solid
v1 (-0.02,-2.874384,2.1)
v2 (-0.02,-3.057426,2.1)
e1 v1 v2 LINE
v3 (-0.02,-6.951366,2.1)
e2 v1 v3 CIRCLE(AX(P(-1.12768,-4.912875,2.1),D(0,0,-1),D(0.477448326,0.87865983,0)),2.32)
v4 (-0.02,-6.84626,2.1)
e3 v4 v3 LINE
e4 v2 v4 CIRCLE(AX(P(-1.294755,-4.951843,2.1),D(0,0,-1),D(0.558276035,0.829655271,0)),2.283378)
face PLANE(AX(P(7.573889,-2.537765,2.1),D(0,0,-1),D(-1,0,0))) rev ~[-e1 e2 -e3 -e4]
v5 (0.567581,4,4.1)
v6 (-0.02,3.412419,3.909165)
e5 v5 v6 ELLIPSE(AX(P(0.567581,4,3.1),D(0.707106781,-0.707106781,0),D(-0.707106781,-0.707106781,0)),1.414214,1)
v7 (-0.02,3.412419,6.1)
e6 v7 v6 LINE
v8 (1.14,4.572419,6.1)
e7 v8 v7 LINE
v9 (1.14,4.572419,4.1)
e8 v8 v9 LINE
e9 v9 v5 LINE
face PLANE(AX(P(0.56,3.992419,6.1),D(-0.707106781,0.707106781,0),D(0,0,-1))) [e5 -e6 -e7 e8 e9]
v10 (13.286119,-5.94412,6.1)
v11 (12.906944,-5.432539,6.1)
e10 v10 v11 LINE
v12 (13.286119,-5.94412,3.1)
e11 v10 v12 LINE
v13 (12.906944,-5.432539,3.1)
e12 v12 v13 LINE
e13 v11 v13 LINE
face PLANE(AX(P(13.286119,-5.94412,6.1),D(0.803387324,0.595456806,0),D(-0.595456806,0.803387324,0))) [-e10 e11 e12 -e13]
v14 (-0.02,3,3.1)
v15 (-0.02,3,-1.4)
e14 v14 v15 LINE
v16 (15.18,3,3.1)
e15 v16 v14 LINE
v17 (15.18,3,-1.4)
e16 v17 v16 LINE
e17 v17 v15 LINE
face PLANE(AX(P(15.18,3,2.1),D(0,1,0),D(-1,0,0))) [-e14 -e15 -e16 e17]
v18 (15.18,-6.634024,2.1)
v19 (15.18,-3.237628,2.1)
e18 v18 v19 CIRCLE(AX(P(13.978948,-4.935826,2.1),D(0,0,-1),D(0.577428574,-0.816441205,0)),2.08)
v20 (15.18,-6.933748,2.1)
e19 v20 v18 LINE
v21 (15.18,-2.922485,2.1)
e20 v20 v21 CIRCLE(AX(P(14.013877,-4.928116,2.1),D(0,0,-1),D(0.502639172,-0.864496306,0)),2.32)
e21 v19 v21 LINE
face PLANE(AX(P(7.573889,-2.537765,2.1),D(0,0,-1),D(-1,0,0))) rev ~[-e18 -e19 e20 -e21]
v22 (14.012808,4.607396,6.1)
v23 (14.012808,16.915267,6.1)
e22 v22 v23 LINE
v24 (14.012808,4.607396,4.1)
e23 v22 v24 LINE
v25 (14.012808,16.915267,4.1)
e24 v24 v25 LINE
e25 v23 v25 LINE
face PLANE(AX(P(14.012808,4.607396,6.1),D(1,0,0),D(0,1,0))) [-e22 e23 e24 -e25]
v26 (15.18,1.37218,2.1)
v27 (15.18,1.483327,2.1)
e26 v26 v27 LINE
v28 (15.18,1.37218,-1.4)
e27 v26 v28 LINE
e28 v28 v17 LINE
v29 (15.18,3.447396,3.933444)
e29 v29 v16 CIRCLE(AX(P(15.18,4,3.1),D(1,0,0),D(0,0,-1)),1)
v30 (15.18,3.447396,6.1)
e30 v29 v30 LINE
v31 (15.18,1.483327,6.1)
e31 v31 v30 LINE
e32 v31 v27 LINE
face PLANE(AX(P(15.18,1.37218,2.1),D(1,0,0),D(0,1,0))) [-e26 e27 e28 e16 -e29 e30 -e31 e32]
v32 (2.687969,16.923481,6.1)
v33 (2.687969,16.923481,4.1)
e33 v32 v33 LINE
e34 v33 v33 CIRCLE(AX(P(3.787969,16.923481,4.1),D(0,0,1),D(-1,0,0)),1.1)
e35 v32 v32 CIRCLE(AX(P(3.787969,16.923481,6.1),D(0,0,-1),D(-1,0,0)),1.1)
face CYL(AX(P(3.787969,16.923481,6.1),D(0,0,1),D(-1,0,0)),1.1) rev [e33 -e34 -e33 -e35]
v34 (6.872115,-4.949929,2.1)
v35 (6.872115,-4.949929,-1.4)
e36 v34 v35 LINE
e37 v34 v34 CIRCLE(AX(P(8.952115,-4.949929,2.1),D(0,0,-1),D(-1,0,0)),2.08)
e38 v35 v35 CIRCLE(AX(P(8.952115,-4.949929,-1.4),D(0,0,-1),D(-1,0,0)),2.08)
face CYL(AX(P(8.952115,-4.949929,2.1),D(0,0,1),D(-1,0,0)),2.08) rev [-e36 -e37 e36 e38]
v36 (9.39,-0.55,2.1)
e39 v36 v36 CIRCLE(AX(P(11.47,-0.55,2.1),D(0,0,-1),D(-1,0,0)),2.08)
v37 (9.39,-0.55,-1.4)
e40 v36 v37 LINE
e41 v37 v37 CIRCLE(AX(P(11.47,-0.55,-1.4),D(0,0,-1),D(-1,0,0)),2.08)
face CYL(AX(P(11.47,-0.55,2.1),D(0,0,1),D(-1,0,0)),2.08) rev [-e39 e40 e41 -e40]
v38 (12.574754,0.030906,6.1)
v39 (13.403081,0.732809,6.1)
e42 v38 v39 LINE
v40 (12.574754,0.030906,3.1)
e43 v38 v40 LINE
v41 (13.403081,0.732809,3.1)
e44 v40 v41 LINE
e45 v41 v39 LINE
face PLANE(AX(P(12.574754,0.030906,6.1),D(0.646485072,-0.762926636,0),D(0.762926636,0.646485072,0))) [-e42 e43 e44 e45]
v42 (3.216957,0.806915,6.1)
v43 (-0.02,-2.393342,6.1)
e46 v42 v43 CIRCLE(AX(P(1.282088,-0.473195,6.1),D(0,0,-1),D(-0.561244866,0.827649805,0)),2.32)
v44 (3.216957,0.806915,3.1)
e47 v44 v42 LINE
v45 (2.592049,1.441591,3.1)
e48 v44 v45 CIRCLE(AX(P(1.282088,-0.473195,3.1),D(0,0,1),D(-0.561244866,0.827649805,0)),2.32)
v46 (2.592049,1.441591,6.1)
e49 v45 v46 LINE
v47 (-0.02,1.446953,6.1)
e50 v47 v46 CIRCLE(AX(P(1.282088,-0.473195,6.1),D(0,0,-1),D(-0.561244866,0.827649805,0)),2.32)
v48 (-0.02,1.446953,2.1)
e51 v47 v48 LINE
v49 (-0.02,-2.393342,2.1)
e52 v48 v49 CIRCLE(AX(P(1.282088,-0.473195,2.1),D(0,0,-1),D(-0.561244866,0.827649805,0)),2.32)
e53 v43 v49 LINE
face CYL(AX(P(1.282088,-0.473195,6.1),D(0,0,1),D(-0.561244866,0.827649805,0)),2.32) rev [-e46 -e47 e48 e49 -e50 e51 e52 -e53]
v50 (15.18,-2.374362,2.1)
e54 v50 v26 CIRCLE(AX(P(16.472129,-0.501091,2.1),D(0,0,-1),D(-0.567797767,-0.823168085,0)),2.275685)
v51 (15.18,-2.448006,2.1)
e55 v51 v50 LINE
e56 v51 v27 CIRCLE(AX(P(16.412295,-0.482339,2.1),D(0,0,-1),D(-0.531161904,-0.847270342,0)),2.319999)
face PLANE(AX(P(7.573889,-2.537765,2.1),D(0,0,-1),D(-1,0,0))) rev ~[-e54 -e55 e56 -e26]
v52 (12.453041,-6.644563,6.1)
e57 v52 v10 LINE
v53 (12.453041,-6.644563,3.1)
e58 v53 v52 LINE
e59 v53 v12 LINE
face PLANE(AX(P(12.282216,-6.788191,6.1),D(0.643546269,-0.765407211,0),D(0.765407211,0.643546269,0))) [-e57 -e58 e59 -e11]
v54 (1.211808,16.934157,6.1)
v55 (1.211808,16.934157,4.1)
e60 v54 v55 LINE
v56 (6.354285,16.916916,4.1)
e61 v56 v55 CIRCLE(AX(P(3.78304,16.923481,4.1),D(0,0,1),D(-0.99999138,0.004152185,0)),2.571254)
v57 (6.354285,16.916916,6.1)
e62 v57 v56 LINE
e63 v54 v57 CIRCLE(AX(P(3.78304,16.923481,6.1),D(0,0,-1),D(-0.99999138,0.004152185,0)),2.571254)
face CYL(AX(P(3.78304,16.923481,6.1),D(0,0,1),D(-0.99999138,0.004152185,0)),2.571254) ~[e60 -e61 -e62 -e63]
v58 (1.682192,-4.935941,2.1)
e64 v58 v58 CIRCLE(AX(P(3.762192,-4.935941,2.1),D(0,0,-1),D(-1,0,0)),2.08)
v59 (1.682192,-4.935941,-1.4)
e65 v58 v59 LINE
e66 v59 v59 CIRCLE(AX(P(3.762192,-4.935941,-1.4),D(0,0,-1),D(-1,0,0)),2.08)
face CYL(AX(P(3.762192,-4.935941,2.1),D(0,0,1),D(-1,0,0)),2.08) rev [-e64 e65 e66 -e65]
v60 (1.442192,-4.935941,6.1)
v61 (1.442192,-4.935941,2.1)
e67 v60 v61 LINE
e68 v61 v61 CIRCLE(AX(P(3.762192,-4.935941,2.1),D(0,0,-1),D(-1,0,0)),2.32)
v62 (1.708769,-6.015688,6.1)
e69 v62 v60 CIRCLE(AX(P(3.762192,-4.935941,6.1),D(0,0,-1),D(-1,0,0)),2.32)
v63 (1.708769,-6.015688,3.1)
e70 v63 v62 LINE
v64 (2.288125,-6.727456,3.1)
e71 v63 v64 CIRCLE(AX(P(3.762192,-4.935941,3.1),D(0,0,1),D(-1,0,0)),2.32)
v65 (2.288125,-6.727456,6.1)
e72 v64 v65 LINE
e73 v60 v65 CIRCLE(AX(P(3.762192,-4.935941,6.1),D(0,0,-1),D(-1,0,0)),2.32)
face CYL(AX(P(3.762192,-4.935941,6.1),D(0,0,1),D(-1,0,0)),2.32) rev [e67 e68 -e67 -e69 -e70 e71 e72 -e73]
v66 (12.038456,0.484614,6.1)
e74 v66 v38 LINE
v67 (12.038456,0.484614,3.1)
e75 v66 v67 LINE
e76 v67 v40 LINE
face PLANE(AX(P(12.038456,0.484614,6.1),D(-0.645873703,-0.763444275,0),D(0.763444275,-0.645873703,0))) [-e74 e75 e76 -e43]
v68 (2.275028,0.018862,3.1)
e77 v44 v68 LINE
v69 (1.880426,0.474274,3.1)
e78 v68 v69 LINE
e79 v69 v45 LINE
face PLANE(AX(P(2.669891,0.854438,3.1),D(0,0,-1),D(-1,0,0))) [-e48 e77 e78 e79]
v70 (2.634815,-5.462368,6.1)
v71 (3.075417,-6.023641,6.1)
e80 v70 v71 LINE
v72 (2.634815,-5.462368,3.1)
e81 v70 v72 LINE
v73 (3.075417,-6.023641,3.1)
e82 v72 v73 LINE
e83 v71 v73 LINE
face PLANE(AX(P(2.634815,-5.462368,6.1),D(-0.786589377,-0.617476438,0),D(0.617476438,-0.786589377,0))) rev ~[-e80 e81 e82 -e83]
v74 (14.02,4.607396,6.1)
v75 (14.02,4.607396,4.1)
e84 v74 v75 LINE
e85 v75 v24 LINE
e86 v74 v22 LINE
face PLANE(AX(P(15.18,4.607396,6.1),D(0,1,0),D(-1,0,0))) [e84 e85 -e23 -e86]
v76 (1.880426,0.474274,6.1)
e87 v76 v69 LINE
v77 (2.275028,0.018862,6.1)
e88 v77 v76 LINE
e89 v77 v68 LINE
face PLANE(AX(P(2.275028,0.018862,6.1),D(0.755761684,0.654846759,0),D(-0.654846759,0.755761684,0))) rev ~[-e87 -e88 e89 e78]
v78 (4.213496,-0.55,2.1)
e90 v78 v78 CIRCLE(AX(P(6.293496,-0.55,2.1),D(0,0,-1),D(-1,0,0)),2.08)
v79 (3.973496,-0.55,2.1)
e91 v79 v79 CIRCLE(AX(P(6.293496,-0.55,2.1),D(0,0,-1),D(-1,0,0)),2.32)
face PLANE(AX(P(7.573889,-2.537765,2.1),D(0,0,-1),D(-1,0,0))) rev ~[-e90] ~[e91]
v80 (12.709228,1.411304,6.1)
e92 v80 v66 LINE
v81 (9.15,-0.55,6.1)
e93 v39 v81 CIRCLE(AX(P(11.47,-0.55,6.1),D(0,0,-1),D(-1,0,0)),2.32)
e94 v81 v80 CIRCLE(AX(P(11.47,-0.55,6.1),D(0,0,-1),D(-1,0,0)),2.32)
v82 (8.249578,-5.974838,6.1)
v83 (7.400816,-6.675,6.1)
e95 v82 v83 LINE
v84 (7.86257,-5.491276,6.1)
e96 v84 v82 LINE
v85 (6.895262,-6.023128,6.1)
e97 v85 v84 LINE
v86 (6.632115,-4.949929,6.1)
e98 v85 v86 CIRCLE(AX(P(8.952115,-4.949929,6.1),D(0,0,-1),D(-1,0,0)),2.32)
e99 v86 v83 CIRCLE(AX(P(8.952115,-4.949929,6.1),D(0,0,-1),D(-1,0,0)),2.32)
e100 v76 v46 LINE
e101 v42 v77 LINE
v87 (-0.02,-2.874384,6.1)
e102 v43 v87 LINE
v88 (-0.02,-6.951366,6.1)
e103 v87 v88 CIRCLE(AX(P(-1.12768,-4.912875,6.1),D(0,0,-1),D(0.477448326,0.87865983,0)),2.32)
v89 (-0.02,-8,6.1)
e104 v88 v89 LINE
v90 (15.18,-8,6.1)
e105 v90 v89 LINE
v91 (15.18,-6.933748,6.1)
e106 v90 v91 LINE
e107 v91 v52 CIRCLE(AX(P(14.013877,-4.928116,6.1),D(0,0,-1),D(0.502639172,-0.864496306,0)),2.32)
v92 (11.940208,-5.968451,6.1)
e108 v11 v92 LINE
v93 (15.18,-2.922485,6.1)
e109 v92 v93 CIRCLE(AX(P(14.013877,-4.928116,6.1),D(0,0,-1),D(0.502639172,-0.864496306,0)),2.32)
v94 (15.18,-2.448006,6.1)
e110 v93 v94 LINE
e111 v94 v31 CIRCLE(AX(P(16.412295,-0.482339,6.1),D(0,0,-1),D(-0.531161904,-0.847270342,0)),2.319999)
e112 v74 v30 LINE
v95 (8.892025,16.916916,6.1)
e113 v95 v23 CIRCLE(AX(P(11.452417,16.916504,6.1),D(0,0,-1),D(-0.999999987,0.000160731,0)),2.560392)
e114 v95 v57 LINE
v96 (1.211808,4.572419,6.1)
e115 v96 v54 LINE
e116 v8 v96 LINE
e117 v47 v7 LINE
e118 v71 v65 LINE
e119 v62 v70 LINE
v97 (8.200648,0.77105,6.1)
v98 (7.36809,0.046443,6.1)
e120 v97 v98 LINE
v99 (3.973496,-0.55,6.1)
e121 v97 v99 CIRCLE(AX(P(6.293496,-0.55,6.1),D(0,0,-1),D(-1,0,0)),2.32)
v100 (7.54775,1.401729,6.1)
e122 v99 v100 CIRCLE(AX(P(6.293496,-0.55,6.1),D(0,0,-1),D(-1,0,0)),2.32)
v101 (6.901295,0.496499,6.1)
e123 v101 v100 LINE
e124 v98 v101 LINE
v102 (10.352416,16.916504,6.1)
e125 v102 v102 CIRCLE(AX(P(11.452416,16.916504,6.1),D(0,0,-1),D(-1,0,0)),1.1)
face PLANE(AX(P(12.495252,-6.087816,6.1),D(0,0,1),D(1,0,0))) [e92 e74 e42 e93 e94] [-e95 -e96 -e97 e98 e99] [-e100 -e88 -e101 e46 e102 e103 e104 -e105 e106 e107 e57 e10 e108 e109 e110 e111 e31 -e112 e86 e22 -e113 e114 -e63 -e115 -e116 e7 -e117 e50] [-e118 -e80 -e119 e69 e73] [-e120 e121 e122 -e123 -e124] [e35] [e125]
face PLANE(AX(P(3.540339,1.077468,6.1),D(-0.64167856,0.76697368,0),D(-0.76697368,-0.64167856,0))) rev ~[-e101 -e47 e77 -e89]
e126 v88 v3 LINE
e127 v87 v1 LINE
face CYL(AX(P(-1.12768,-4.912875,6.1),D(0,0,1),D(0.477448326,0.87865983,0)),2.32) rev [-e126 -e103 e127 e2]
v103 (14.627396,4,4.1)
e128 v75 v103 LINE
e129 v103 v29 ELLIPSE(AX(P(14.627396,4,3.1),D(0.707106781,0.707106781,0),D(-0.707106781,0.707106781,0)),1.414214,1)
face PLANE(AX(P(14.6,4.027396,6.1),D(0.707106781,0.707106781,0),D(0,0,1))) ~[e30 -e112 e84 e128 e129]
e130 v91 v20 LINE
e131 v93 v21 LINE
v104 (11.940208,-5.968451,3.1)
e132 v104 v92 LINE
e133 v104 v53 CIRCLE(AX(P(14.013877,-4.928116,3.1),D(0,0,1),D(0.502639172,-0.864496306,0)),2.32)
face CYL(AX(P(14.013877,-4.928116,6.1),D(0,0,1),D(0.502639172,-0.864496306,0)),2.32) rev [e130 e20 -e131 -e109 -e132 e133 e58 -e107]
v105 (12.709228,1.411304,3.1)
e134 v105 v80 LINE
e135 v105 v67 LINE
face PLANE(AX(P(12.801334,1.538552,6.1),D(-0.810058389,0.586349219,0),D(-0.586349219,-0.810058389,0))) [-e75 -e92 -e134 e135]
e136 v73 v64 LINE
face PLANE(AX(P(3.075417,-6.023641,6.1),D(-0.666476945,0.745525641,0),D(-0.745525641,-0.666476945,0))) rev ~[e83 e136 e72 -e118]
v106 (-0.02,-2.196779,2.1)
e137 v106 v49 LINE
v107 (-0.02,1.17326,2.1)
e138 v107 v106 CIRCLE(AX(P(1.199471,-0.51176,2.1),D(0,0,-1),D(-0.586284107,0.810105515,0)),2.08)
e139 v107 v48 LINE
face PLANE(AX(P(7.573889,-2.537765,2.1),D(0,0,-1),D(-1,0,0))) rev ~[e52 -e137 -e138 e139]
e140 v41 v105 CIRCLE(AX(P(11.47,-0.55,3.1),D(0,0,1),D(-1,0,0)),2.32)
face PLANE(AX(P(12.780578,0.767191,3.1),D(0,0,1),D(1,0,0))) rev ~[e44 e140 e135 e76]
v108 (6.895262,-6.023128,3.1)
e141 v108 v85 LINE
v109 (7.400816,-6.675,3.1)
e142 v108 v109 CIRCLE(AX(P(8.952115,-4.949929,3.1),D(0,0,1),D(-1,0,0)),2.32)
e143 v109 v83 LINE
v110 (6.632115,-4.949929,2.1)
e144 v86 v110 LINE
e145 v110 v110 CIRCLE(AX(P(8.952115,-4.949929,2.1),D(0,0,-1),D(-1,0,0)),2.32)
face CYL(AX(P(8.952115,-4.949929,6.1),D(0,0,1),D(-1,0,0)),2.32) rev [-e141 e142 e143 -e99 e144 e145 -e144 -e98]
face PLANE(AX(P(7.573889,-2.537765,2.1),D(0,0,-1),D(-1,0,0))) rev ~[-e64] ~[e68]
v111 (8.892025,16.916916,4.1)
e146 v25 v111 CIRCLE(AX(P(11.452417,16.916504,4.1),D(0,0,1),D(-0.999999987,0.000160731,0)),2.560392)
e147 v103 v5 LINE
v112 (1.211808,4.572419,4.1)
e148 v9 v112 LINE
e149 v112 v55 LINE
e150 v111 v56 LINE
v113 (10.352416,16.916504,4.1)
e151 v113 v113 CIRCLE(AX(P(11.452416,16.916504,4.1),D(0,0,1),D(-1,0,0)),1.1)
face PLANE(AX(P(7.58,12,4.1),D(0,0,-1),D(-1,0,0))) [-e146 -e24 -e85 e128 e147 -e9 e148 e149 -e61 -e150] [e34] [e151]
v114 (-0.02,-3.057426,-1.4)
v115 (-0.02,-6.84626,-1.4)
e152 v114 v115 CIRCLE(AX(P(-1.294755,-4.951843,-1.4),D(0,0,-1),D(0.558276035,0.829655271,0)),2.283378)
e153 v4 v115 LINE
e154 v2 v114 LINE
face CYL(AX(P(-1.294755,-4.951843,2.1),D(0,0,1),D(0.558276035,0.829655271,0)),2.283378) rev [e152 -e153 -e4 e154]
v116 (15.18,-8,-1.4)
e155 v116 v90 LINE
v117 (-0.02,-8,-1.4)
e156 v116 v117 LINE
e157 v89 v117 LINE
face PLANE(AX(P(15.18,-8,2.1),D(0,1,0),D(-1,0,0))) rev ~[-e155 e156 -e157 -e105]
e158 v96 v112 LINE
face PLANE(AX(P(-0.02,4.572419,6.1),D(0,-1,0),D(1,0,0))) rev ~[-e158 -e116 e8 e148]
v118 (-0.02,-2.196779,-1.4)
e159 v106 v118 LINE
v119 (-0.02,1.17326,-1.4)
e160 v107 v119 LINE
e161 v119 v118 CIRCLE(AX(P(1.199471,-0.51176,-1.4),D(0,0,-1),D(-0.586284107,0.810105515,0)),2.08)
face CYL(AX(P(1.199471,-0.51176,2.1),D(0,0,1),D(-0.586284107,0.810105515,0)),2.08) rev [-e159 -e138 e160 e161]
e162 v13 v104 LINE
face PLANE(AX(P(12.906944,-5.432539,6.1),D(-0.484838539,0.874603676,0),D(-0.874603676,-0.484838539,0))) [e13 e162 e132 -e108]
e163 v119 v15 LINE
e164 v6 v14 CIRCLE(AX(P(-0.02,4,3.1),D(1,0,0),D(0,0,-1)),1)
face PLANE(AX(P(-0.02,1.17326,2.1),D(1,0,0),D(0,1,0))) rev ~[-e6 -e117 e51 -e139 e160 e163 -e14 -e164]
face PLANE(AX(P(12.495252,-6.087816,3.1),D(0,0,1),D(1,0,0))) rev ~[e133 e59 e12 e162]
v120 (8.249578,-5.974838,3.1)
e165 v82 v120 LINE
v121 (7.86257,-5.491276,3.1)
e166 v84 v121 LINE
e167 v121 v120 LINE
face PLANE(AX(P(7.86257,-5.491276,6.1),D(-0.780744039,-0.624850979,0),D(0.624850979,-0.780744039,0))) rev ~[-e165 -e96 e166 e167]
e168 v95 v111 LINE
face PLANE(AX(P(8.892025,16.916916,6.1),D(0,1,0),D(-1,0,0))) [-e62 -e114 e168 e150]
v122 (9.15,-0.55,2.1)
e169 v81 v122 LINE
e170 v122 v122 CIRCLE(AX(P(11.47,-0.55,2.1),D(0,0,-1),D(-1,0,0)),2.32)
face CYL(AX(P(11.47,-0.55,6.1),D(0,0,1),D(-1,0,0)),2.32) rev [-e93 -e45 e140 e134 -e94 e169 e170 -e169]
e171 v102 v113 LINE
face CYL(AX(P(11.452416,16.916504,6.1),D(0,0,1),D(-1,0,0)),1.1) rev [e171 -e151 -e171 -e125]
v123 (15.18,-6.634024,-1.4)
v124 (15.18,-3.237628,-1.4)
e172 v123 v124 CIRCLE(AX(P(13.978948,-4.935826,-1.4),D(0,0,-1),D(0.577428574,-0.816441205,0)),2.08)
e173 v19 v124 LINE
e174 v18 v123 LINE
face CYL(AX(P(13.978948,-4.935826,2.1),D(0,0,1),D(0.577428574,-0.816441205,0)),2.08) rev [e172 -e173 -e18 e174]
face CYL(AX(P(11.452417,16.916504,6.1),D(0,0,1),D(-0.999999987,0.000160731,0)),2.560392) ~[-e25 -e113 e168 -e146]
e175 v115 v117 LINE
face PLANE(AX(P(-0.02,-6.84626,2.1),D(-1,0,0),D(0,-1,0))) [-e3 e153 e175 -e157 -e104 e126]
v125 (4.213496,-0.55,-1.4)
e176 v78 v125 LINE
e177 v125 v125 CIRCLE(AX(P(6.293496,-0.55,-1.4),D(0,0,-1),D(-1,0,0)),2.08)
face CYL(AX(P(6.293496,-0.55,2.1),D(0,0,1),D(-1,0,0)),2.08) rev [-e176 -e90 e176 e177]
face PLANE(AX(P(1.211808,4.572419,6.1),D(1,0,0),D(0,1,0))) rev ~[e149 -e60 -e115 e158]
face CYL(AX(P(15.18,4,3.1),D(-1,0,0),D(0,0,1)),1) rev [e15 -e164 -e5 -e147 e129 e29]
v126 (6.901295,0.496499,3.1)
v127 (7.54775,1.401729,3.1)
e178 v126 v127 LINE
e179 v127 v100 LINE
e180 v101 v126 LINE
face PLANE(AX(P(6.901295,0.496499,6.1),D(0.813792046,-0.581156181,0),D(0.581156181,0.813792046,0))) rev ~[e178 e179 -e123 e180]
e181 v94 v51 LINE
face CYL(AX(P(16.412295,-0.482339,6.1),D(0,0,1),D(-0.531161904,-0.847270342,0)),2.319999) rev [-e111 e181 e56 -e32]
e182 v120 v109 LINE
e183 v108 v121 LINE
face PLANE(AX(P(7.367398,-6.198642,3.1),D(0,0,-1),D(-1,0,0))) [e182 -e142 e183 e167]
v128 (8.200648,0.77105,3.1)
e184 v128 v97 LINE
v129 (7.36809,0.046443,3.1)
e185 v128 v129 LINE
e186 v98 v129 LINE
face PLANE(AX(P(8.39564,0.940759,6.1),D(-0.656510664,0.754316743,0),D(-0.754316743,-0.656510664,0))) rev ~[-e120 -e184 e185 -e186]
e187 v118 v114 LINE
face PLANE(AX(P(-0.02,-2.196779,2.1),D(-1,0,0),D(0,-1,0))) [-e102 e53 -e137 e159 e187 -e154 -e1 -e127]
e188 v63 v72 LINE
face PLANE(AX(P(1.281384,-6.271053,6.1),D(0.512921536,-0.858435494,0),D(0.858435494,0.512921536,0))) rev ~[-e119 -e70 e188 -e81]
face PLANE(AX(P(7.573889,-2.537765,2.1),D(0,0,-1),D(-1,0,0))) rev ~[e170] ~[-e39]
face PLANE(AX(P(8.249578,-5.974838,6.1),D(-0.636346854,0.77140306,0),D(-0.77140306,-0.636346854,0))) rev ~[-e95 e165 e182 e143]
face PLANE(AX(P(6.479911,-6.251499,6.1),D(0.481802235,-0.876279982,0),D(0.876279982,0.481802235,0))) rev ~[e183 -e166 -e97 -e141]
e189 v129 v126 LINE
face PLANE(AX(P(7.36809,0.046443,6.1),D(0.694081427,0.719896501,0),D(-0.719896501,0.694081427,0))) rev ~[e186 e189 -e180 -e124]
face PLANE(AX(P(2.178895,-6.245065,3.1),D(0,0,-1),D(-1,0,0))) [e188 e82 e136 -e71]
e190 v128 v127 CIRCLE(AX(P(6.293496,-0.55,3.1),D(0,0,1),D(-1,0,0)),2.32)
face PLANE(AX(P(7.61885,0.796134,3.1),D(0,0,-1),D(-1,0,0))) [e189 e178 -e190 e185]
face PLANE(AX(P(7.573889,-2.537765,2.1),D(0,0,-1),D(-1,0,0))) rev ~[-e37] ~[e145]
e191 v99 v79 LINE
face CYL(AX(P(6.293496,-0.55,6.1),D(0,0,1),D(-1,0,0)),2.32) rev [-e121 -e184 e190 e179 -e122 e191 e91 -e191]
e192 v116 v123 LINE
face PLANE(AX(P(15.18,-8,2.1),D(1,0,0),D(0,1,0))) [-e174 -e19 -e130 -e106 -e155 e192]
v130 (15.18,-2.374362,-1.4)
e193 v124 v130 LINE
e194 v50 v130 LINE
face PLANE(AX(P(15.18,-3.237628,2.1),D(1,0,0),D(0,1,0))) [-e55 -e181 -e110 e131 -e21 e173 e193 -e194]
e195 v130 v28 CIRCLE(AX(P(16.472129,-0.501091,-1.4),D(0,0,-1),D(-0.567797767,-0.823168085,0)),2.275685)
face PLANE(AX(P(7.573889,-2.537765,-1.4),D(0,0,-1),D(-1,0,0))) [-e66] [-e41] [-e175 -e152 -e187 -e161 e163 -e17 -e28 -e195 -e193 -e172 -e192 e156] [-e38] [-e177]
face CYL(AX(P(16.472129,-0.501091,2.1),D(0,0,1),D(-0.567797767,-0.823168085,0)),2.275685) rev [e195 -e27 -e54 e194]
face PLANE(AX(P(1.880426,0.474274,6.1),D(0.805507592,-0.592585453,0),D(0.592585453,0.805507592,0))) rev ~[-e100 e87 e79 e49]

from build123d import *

# Parameters (mm, degrees)
BOX001_W                  = 15.2
BOX001_H                  = 18
BOX001_DEPTH              = 10
PAD010_DEPTH              = 3
SKETCH009_R               = 2.08
PAD009_DEPTH              = 3.5
SKETCH008_R               = 1.1
SKETCH008_R_2             = 2.32
PAD008_DEPTH              = 4
CHAMFER005_SIZE           = 1.16
FILLET001_R               = 1
FUSION004_PLACEMENT_ANGLE = 180


with BuildPart() as w_rfel001:
    # Box001 → Box001 (new body)
    with BuildSketch(Plane(origin=(0, 11, 2), x_dir=(1, 0, 0), z_dir=(0, 0, 1))):
        with Locations((7.6, 9)):
            Rectangle(BOX001_W, BOX001_H)
    extrude(amount=BOX001_DEPTH)


with BuildPart() as pad010:
    # Sketch010 → Pad010 (new body)
    with BuildSketch(Plane.XY):
        Polygon((2.378666, 9.538552), (3.141544, 8.484614), (2.605246, 8.030906), (1.603856, 8.879459), align=None)
        Polygon((6.78436, 8.940759), (7.81191, 8.046443), (8.278705, 8.496499), (7.513181, 9.568461), align=None)
        Polygon((11.639661, 9.077468), (12.904972, 8.018862), (13.299574, 8.474274), (12.400975, 9.695749), align=None)
        Polygon((12.104583, 1.976359), (13.30563, 0.90266), (13.898616, 1.728947), (12.545185, 2.537632), align=None)
        Polygon((8.700089, 1.748501), (7.31743, 2.508724), (6.930422, 2.025162), (8.137034, 1.029802), align=None)
        Polygon((2.273056, 2.567461), (3.508846, 1.882398), (2.897784, 1.211809), (1.893881, 2.05588), align=None)
    extrude(amount=PAD010_DEPTH)


with BuildPart() as pad009:
    # Sketch009 → Pad009 (new body)
    with BuildSketch(Plane.XY.offset(4)):
        with BuildLine():
            Line((0, 0), (15.2, 0))
            Line((15.2, 1.15374), (15.2, 0))
            ThreePointArc((15.2, 4.942574), (14.191377, 3.048157), (15.2, 1.15374))
            Line((15.2, 5.803221), (15.2, 4.942574))
            ThreePointArc((15.2, 9.17326), (11.900529, 7.488241), (15.2, 5.803221))
            Line((15.2, 9.17326), (15.2, 11))
            Line((0, 11), (15.2, 11))
            Line((0, 9.37218), (0, 11))
            ThreePointArc((0, 5.625638), (0.983556, 7.498909), (0, 9.37218))
            Line((0, 4.762372), (0, 5.625638))
            ThreePointArc((0, 1.365976), (3.281052, 3.064174), (0, 4.762372))
            Line((0, 0), (0, 1.365976))
        make_face()
        with Locations((3.71, 7.45)):
            Circle(SKETCH009_R, mode=Mode.SUBTRACT)
        with Locations((8.886504, 7.45)):
            Circle(SKETCH009_R, mode=Mode.SUBTRACT)
        with Locations((11.417808, 3.064059)):
            Circle(SKETCH009_R, mode=Mode.SUBTRACT)
        with Locations((6.227885, 3.050071)):
            Circle(SKETCH009_R, mode=Mode.SUBTRACT)
    extrude(amount=PAD009_DEPTH)


with BuildPart() as cut001:
    # Sketch008 → Pad008 (new body)
    with BuildSketch(Plane.XY):
        with BuildLine():
            Line((1.167192, 12.607396), (1.167192, 24.915267))
            ThreePointArc((6.287975, 24.916916), (3.726759, 27.476896), (1.167192, 24.915267))
            Line((6.287975, 24.916916), (8.825715, 24.916916))
            ThreePointArc((13.968192, 24.934157), (11.38834, 27.49472), (8.825715, 24.916916))
            Line((13.968192, 12.572419), (13.968192, 24.934157))
            Line((15.2, 12.572419), (13.968192, 12.572419))
            Line((15.2, 9.446953), (15.2, 12.572419))
            ThreePointArc((15.2, 9.446953), (11.577912, 7.526805), (15.2, 5.606658))
            Line((15.2, 5.606658), (15.2, 5.125616))
            ThreePointArc((15.2, 5.125616), (13.98768, 3.087125), (15.2, 1.048634))
            Line((15.2, 1.048634), (15.2, 0))
            Line((0, 0), (15.2, 0))
            Line((0, 0), (0, 1.066252))
            ThreePointArc((0, 1.066252), (3.486123, 3.071883), (0, 5.077515))
            Line((0, 5.077515), (0, 5.551994))
            ThreePointArc((0, 5.551994), (1.087704, 7.51766), (0, 9.483327))
            Line((0, 9.483327), (0, 12.607396))
            Line((0, 12.607396), (1.167192, 12.607396))
        make_face()
        with Locations((3.727584, 24.916504)):
            Circle(SKETCH008_R, mode=Mode.SUBTRACT)
        with Locations((11.392031, 24.923481)):
            Circle(SKETCH008_R, mode=Mode.SUBTRACT)
        with Locations((3.71, 7.45)):
            Circle(SKETCH008_R_2, mode=Mode.SUBTRACT)
        with Locations((8.886504, 7.45)):
            Circle(SKETCH008_R_2, mode=Mode.SUBTRACT)
        with Locations((11.417808, 3.064059)):
            Circle(SKETCH008_R_2, mode=Mode.SUBTRACT)
        with Locations((6.227885, 3.050071)):
            Circle(SKETCH008_R_2, mode=Mode.SUBTRACT)
    extrude(amount=PAD008_DEPTH)

    # Chamfer005
    chamfer005_edges = [cut001.edges().sort_by_distance(p)[0] for p in [
        (0, 12.607396, 2),
        (15.2, 12.572419, 2),
    ]]
    chamfer(chamfer005_edges, length=CHAMFER005_SIZE)

    # Fusion002: union Pad010, Pad009
    add(pad010.part)
    add(pad009.part)

    # Cut001: cut Würfel001
    add(w_rfel001.part, mode=Mode.SUBTRACT)


with BuildPart() as fillet001:
    # Fillet001 base: copy of Cut001
    add(cut001.part)

    # Fillet001
    fillet001_edges = [fillet001.edges().sort_by_distance(p)[0] for p in [
        (7.6, 11, 2),
    ]]
    fillet(fillet001_edges, radius=FILLET001_R)


with BuildPart() as fusion004:
    # Fusion004 base: copy of Cut001
    add(cut001.part)

    # Fusion004: union Fillet001
    add(fillet001.part)


with BuildPart() as fusion004_1:
    # Fusion004 placement: moved
    add(fusion004.part.moved(Location((15.18, -8, 6.1))).rotate(Axis((15.18, -8, 6.1), (0, 1, 0)), FUSION004_PLACEMENT_ANGLE))


solid = fusion004_1.part
